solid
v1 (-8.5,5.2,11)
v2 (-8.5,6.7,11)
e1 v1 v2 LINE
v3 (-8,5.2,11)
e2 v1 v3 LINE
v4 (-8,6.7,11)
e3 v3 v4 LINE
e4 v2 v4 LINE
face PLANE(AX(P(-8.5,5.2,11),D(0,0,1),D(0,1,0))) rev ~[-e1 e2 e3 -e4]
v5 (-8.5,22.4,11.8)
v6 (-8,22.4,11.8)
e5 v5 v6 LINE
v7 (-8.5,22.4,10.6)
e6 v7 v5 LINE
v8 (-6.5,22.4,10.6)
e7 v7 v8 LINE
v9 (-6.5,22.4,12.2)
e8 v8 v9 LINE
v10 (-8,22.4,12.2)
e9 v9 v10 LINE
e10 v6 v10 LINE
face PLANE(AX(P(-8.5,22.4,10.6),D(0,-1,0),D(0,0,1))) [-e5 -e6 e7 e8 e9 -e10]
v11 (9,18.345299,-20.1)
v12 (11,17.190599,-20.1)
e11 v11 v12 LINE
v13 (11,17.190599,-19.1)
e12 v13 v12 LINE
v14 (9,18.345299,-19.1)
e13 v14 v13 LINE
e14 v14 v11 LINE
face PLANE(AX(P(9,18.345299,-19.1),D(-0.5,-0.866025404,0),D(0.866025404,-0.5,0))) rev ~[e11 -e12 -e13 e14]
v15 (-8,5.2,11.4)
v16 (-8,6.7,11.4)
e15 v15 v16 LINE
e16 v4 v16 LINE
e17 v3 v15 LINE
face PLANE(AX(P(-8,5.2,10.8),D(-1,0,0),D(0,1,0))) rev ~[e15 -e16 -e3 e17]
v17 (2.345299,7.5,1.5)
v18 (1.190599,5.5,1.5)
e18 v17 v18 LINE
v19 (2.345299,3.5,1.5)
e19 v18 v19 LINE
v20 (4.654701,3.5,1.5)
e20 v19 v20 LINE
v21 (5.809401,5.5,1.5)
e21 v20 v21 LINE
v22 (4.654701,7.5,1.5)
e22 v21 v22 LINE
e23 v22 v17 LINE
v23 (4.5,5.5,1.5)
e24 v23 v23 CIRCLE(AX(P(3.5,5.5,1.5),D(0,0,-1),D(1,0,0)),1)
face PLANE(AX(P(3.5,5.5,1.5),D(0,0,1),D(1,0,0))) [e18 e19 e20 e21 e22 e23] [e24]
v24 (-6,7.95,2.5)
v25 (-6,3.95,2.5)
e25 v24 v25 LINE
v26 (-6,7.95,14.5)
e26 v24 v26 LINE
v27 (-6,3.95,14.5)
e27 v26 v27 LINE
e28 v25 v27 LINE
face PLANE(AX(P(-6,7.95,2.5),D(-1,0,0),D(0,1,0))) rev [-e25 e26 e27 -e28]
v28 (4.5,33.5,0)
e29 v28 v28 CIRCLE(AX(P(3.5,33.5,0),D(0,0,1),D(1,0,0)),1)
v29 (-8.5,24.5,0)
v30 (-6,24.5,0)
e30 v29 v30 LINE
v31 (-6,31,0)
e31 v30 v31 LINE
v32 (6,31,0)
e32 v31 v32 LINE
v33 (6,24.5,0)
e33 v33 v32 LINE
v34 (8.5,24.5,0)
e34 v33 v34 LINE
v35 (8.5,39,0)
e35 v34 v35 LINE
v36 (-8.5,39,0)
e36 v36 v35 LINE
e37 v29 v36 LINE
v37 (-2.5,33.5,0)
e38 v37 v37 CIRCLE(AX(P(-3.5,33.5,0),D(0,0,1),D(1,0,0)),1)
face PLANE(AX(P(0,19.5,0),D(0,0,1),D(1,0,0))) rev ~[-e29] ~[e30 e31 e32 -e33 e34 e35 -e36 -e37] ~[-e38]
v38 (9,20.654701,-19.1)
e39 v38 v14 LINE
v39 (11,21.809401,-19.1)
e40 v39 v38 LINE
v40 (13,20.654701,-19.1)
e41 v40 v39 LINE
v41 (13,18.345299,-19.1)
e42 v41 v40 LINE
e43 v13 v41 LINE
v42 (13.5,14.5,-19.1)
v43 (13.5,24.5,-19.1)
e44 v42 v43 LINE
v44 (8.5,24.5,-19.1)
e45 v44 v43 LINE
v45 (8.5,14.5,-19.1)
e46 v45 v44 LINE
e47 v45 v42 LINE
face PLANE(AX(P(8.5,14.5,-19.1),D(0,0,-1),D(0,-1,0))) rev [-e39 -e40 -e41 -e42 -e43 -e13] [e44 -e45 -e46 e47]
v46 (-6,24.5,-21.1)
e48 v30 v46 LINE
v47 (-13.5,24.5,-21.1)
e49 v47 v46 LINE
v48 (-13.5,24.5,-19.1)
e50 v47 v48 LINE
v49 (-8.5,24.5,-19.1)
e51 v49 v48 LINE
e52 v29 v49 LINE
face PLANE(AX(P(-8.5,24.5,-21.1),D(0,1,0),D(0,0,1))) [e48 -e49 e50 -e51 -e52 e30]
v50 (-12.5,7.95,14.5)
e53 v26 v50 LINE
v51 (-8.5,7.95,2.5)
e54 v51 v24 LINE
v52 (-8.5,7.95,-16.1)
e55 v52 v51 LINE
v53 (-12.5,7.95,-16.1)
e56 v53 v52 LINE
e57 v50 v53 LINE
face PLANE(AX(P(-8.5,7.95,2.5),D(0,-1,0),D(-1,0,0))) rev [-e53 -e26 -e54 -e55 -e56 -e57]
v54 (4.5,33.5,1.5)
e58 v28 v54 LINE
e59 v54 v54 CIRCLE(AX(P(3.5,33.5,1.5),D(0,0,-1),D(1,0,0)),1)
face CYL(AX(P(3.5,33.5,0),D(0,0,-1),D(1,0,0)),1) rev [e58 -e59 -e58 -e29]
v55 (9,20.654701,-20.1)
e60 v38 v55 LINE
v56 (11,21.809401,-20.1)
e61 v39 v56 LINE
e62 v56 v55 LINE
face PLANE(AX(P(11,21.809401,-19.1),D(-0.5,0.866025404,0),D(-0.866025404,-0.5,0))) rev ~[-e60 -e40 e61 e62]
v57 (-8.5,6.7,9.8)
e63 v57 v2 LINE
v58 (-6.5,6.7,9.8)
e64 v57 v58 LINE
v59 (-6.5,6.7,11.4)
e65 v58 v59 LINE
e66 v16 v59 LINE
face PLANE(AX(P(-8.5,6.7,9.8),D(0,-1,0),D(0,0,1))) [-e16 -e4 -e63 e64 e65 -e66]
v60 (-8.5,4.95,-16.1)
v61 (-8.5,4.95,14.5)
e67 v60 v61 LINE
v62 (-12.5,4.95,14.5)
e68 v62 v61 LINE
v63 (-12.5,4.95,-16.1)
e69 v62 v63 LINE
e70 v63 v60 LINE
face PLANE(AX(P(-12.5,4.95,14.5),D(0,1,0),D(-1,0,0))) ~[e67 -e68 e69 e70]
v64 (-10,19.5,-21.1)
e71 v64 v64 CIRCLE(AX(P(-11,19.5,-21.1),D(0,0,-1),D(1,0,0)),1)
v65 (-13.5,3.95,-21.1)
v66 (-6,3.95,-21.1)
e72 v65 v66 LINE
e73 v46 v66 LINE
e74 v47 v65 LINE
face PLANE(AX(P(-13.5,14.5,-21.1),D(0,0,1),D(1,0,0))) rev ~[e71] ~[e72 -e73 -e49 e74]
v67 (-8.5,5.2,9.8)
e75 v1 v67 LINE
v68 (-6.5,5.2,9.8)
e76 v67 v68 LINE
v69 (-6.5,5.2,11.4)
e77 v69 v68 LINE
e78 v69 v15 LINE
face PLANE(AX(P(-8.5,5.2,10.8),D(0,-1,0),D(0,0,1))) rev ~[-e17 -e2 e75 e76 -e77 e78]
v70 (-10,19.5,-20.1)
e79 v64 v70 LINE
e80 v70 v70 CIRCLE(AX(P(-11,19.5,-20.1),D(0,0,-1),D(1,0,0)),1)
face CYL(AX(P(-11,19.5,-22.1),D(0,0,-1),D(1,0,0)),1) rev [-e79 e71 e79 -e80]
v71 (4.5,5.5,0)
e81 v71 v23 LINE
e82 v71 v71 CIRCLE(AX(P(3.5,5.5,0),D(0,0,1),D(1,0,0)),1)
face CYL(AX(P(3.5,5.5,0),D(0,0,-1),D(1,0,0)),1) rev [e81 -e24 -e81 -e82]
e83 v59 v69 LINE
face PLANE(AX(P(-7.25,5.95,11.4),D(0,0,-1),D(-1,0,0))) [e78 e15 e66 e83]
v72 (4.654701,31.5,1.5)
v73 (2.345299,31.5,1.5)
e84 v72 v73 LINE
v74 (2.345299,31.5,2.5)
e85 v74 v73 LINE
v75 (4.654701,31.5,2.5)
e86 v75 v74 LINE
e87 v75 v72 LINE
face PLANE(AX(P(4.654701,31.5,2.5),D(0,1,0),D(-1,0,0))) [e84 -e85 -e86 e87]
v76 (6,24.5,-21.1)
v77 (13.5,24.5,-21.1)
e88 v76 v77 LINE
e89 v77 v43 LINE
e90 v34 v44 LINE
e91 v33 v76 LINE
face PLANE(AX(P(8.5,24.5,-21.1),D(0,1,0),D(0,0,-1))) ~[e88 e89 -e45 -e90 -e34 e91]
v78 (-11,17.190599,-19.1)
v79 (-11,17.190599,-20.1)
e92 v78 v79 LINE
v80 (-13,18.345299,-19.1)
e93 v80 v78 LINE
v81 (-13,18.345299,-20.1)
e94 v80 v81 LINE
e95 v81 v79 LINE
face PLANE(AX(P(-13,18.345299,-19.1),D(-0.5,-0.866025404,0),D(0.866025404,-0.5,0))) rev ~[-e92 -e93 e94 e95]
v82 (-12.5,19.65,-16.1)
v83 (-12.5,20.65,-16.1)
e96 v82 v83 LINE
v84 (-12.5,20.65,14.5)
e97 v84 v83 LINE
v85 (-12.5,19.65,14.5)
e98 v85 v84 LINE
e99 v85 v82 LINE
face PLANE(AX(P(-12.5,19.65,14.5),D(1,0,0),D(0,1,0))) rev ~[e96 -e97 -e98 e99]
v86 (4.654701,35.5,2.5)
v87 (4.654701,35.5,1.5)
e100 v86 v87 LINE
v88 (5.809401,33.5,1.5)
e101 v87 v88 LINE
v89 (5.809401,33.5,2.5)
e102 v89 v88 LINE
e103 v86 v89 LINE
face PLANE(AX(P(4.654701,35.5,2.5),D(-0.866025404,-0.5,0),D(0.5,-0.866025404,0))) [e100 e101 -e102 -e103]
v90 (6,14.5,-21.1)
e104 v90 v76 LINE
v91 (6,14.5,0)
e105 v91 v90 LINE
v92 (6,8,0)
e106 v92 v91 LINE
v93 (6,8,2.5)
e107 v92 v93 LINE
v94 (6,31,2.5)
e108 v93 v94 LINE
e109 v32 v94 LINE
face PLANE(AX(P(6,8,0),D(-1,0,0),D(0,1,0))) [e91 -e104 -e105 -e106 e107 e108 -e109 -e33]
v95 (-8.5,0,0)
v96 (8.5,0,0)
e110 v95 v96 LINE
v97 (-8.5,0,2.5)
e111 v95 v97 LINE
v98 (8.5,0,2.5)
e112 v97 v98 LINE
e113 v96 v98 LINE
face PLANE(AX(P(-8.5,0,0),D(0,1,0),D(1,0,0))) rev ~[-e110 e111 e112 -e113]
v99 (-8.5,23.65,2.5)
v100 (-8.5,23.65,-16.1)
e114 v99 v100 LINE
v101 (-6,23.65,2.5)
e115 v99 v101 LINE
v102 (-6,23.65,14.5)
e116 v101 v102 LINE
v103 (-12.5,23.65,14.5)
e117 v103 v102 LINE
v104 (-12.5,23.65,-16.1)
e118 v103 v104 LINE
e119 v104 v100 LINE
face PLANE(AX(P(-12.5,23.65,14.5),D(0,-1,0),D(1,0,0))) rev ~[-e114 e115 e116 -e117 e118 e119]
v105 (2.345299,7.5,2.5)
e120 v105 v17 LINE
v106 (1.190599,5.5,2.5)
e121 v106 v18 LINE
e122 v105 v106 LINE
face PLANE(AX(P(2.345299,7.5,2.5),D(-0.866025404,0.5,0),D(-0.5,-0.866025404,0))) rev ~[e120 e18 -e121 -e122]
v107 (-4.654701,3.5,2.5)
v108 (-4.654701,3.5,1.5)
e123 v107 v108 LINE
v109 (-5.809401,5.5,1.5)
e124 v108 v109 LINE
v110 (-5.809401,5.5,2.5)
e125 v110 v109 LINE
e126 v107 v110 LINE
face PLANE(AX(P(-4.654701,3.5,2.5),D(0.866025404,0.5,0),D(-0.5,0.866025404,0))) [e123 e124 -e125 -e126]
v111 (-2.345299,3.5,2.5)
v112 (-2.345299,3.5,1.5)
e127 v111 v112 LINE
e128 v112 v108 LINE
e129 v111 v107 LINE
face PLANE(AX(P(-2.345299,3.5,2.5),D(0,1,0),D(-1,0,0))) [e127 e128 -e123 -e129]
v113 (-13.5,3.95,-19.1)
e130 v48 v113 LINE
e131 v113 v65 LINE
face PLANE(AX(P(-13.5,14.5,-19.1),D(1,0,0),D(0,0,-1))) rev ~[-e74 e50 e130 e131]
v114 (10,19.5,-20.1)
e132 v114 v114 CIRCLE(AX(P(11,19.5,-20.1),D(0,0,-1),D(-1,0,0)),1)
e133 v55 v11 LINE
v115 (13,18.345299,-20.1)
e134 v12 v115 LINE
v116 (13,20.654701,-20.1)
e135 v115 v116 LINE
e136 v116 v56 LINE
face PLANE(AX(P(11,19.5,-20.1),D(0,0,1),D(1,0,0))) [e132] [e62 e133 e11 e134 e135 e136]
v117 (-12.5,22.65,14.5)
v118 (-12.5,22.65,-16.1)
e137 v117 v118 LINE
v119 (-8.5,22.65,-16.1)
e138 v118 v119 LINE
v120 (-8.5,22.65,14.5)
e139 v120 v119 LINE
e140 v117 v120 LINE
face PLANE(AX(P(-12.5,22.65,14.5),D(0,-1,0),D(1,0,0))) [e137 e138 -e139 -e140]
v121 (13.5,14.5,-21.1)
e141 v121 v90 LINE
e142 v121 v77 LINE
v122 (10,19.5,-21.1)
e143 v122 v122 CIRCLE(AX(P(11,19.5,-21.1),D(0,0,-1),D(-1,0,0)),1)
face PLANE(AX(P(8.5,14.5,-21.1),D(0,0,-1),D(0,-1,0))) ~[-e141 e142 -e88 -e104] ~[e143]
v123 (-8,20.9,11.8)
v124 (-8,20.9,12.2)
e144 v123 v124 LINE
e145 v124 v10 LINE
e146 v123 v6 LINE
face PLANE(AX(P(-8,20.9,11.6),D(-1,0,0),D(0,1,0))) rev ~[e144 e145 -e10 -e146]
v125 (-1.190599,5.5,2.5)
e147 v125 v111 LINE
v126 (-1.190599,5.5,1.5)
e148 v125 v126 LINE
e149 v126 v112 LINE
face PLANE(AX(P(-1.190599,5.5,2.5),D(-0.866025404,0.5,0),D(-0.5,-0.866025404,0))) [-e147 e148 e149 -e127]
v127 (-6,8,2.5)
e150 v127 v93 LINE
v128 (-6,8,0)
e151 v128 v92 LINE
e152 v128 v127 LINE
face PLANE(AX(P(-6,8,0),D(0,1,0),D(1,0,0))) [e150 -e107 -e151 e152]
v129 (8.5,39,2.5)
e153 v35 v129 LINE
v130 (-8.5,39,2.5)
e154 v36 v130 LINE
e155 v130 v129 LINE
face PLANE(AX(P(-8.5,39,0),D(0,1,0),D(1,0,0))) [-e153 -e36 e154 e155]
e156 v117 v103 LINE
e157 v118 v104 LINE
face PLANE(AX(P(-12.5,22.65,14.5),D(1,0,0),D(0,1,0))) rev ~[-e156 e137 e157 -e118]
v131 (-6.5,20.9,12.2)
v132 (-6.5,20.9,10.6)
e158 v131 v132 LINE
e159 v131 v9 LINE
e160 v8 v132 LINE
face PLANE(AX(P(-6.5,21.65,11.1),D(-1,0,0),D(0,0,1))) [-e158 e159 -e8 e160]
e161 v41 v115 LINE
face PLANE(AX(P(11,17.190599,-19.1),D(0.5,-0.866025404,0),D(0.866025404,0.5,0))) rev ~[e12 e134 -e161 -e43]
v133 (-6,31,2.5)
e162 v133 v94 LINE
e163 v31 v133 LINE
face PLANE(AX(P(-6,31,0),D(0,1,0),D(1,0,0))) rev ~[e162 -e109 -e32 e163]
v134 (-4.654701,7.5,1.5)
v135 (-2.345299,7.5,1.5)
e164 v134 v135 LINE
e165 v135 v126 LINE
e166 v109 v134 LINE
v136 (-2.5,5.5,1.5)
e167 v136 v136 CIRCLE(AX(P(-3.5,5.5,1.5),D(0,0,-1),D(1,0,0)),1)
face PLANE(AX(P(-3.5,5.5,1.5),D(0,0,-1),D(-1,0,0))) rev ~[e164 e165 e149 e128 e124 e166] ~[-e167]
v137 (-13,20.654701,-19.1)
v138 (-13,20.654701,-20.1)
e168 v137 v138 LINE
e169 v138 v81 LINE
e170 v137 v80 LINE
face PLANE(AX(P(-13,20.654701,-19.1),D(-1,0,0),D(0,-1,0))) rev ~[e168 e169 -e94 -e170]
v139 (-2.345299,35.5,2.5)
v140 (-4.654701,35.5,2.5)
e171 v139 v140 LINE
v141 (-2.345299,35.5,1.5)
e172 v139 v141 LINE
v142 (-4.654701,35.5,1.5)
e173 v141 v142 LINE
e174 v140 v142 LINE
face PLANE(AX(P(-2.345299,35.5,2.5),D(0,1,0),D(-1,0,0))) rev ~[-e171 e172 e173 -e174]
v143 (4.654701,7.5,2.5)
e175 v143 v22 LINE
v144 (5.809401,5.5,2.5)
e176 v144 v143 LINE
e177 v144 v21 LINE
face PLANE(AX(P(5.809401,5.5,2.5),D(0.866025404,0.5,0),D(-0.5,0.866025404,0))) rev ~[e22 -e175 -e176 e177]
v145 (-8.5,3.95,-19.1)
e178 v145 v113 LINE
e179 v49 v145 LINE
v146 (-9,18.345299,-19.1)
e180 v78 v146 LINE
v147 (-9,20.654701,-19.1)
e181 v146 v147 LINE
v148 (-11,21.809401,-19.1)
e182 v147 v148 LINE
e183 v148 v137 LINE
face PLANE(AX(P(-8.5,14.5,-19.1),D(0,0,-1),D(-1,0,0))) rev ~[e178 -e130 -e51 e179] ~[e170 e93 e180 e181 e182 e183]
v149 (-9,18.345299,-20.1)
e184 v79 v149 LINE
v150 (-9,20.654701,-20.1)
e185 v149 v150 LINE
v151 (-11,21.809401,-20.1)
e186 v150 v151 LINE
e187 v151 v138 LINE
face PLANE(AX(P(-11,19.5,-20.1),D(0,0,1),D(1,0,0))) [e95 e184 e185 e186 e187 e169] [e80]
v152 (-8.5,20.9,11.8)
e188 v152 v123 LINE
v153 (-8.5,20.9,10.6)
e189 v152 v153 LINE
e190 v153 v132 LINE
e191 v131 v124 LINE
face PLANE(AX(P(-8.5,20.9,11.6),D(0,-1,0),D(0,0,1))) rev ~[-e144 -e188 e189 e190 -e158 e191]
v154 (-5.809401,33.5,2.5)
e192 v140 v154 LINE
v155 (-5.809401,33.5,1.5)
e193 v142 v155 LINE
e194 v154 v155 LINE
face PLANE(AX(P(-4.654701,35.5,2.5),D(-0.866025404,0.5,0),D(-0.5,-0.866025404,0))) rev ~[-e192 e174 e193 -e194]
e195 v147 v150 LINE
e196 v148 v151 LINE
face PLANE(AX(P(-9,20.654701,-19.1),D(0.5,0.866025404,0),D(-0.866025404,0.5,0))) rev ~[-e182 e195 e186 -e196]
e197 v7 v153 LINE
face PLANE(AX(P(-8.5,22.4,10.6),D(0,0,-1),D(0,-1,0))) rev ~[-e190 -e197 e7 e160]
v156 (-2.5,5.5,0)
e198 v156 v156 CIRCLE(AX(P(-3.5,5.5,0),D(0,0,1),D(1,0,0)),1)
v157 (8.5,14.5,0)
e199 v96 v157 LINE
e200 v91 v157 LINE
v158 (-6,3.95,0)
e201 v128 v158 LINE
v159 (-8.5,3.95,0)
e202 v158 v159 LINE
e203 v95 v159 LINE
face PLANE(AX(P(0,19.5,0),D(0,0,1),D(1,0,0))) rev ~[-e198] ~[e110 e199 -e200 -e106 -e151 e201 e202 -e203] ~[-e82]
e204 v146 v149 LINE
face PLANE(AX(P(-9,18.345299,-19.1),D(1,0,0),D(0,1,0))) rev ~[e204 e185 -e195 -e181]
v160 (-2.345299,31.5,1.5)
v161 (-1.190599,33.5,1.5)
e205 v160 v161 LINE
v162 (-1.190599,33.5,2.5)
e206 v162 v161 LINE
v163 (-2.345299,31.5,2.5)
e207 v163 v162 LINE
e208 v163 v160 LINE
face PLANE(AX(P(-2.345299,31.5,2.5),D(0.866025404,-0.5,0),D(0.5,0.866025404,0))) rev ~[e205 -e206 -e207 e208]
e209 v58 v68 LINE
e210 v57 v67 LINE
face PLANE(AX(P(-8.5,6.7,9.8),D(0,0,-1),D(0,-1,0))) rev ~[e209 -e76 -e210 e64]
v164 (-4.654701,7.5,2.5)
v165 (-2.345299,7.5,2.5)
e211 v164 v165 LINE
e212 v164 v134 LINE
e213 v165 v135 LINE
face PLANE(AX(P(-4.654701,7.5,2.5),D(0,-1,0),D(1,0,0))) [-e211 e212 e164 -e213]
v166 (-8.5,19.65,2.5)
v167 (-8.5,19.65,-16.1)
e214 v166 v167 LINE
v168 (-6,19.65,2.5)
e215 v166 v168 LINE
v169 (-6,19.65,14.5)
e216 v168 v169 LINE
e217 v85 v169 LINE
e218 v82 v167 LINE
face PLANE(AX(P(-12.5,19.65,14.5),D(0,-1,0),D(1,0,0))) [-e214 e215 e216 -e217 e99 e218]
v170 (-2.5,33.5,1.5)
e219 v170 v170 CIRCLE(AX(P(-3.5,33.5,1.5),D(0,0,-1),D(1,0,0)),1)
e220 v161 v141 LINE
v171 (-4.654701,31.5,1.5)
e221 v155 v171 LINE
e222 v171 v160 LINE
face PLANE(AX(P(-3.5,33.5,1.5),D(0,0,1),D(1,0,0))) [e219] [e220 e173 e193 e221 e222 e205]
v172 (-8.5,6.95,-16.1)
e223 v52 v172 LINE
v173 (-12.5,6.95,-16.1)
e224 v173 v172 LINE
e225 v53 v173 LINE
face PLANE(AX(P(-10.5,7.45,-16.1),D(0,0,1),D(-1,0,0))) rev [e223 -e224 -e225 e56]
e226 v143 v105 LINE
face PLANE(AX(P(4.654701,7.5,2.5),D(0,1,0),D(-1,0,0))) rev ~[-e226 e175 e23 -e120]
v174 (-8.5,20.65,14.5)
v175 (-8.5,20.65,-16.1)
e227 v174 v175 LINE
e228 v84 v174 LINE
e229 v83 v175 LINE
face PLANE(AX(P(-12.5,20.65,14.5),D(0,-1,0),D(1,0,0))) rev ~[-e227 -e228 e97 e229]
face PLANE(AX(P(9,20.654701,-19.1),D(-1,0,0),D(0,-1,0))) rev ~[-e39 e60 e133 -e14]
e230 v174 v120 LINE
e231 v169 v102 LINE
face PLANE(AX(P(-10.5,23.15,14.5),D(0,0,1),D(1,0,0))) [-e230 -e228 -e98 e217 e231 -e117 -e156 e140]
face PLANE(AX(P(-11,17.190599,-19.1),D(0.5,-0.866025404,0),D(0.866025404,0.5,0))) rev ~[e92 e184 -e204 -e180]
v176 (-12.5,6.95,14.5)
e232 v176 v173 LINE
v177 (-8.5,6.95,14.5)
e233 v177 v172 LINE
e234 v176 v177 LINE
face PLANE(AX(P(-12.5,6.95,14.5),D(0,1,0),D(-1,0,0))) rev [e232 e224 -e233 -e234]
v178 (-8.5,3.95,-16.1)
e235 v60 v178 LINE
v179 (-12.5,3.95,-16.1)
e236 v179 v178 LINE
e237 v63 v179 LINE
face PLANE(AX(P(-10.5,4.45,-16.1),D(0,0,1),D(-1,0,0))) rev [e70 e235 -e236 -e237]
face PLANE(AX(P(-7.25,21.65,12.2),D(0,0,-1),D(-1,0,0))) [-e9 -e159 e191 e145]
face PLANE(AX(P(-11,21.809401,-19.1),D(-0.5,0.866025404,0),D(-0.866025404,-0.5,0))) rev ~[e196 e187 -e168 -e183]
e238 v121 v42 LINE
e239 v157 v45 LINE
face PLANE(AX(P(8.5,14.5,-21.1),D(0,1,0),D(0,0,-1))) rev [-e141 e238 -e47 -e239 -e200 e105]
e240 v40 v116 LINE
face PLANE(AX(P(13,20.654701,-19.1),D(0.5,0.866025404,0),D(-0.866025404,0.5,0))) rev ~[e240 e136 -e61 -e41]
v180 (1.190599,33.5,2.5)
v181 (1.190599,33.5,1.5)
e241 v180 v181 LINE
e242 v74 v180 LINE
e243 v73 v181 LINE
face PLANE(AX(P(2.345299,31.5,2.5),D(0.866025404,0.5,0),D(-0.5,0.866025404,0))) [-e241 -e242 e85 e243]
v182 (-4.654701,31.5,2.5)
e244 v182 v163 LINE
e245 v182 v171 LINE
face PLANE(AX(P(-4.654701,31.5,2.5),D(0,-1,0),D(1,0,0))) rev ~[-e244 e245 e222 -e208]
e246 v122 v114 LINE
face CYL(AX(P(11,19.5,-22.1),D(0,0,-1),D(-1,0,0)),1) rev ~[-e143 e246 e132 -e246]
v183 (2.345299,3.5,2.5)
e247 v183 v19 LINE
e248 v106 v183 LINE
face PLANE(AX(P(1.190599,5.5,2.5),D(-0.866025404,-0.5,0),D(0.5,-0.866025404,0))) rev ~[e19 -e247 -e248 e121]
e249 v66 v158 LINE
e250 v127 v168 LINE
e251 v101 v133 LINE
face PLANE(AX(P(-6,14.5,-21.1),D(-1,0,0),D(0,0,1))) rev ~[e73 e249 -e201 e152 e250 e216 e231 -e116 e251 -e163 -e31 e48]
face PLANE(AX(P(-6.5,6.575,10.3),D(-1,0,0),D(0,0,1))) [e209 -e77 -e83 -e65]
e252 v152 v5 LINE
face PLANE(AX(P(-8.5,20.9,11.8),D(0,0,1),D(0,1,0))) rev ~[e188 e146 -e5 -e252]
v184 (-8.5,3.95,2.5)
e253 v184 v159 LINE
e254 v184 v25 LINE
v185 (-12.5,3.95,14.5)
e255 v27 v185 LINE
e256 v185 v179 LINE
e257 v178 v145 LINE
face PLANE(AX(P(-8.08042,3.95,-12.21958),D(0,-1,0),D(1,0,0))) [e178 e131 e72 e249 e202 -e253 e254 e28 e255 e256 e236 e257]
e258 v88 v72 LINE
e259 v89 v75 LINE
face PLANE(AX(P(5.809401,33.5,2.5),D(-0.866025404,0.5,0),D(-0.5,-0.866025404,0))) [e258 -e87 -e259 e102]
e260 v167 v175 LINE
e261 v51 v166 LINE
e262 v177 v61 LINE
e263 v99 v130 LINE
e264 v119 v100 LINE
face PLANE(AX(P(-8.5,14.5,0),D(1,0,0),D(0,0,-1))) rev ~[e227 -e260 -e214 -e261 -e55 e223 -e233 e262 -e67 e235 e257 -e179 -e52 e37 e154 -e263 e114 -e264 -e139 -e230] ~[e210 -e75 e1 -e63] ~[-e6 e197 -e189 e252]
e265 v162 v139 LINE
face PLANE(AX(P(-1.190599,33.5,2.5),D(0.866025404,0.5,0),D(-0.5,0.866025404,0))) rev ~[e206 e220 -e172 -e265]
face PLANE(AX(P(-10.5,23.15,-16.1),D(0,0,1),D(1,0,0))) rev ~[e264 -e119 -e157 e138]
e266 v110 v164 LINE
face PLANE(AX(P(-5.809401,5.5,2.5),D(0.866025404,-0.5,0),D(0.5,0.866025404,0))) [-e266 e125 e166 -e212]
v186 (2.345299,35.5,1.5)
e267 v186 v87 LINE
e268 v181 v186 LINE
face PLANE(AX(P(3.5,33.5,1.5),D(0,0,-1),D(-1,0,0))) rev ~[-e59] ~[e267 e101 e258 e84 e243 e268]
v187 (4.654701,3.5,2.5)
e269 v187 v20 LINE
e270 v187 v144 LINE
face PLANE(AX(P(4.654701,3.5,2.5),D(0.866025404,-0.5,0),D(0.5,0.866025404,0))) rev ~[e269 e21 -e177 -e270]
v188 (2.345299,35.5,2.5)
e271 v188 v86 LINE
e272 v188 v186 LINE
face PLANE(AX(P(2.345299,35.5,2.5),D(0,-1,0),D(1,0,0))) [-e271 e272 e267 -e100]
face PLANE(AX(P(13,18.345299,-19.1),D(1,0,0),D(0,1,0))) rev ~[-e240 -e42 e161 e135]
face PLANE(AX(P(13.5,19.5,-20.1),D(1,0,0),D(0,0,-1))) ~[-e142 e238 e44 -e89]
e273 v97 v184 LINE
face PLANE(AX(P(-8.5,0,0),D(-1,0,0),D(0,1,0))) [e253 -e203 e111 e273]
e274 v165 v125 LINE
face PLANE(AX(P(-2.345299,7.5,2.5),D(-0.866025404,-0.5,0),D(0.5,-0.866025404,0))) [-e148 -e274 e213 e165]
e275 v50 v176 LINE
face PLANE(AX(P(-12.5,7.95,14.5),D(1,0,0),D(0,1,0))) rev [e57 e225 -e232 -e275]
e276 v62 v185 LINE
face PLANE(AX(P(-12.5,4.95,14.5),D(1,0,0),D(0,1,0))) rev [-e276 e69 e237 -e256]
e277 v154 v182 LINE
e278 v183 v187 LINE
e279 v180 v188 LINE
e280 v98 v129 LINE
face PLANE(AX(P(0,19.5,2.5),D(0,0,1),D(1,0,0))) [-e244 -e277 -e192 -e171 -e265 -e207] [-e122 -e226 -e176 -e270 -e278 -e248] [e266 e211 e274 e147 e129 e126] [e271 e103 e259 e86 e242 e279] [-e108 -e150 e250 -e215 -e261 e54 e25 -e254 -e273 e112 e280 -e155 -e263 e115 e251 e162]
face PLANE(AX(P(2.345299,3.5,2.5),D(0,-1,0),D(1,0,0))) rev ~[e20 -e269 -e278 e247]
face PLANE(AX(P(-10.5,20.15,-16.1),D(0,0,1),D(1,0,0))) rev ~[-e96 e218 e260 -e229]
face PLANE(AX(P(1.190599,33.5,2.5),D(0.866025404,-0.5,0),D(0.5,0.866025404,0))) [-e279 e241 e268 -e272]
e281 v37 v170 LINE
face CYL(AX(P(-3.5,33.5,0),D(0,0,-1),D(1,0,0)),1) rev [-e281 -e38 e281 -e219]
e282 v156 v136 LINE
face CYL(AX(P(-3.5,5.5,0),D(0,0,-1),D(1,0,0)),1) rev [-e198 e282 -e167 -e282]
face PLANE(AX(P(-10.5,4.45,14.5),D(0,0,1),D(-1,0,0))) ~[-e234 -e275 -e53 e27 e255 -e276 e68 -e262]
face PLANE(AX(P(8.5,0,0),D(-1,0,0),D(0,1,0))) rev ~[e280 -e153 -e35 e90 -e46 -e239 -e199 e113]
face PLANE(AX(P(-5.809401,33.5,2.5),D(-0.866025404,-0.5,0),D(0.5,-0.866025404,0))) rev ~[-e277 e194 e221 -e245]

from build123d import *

# Parameters (mm, degrees)
SKETCH1_W                     = 17
SKETCH1_H                     = 39
SKETCH1_R                     = 1
SKETCH1_W_2                   = 12
SKETCH1_H_2                   = 23
SERVOBRACKET_DEPTH            = 2.5
SKETCH1_5_W                   = 2.5
SKETCH1_5_H                   = 10
SUPPORTLEGS_DEPTH             = 21.1
SKETCH2_W                     = 2
SKETCH2_H                     = 10
SUPPORTFOOT_DEPTH             = 5
BASEBOLTHOLE_START            = -3
SKETCH3_R                     = 1
BASEBOLTHOLE_DEPTH            = 25.6
SERVONUTSLOTS_DEPTH           = 1
BASENUTSLOTS_DEPTH            = 1
SKETCH6_W                     = 2.5
SKETCH6_H                     = 4
TUBEHOLDERBASE_DEPTH          = 12
SKETCH7_W                     = 4
SKETCH7_H                     = 1
TUBEHOLDERSTIFFENERRIBS_DEPTH = 30.6
SKETCH8_W                     = 1
SKETCH8_H                     = 1
SKETCH8_H_2                   = 0.25
TUBECLIPENTRANCES_DEPTH       = 2
SKETCH9_W                     = 1.5
SKETCH9_H                     = 1.5
TUBECLIPLOCKSLOT_DEPTH        = 0.6
TUBECLIPLOCKSLOT2_DEPTH       = 0.6
SUPPORTLEGEXTENSION_DEPTH     = 10.55
SKETCH8_4_W                   = 0.2
SKETCH8_4_H                   = 1.5
TUBECLIPLOCKCLEARANCE_DEPTH   = 0.5


with BuildPart() as part:
    # Sketch1 → ServoBracket (new body)
    with BuildSketch(Plane.XY):
        with Locations((0, 19.5)):
            Rectangle(SKETCH1_W, SKETCH1_H)
        with Locations((-3.5, 33.5)):
            Circle(SKETCH1_R, mode=Mode.SUBTRACT)
        with Locations((-3.5, 5.5)):
            Circle(SKETCH1_R, mode=Mode.SUBTRACT)
        with Locations((3.5, 5.5)):
            Circle(SKETCH1_R, mode=Mode.SUBTRACT)
        with Locations((3.5, 33.5)):
            Circle(SKETCH1_R, mode=Mode.SUBTRACT)
        with Locations((0, 19.5)):
            Rectangle(SKETCH1_W_2, SKETCH1_H_2, mode=Mode.SUBTRACT)
    extrude(amount=SERVOBRACKET_DEPTH)

    # Sketch1_5 → SupportLegs (add)
    with BuildSketch(Plane.XY):
        with Locations((-7.25, 19.5)):
            Rectangle(SKETCH1_5_W, SKETCH1_5_H)
        with Locations((7.25, 19.5)):
            Rectangle(SKETCH1_5_W, SKETCH1_5_H)
    extrude(amount=-SUPPORTLEGS_DEPTH)

    # Sketch2 → SupportFoot (add)
    with BuildSketch(Plane.ZY.offset(8.5)):
        with Locations((-20.1, 19.5)):
            Rectangle(SKETCH2_W, SKETCH2_H)
    supportfoot = extrude(amount=SUPPORTFOOT_DEPTH)

    # Sketch3 → BaseBoltHole (cut)
    with BuildSketch(Plane.XY.offset(-19.1).offset(BASEBOLTHOLE_START)):
        with Locations((-11, 19.5)):
            Circle(SKETCH3_R)
    basebolthole = extrude(amount=BASEBOLTHOLE_DEPTH, mode=Mode.SUBTRACT)

    # SupportFoot2: SupportFoot, BaseBoltHole across plane
    add(supportfoot.mirror(Plane(origin=(0, 0, 0), x_dir=(0, 0, 1), z_dir=(1, 0, 0))))
    add(basebolthole.mirror(Plane(origin=(0, 0, 0), x_dir=(0, 0, 1), z_dir=(1, 0, 0))), mode=Mode.SUBTRACT)

    # Sketch4 → ServoNutSlots (cut)
    with BuildSketch(Plane.XY.offset(2.5)):
        Polygon((-4.654700538, 7.5), (-2.345299462, 7.5), (-1.190598923, 5.5), (-2.345299462, 3.5), (-4.654700538, 3.5), (-5.809401077, 5.5), align=None)
        Polygon((-1.190598923, 33.5), (-2.345299462, 35.5), (-4.654700538, 35.5), (-5.809401077, 33.5), (-4.654700538, 31.5), (-2.345299462, 31.5), align=None)
        Polygon((2.345299462, 31.5), (1.190598923, 33.5), (2.345299462, 35.5), (4.654700538, 35.5), (5.809401077, 33.5), (4.654700538, 31.5), align=None)
        Polygon((4.654700538, 7.5), (2.345299462, 7.5), (1.190598923, 5.5), (2.345299462, 3.5), (4.654700538, 3.5), (5.809401077, 5.5), align=None)
    extrude(amount=-SERVONUTSLOTS_DEPTH, mode=Mode.SUBTRACT)

    # Sketch5 → BaseNutSlots (cut)
    with BuildSketch(Plane.XY.offset(-19.1)):
        Polygon((-11, 21.809401077), (-13, 20.654700538), (-13, 18.345299462), (-11, 17.190598923), (-9, 18.345299462), (-9, 20.654700538), align=None)
        Polygon((11, 21.809401077), (9, 20.654700538), (9, 18.345299462), (11, 17.190598923), (13, 18.345299462), (13, 20.654700538), align=None)
    extrude(amount=-BASENUTSLOTS_DEPTH, mode=Mode.SUBTRACT)

    # Sketch6 → TubeHolderBase (add)
    with BuildSketch(Plane.XY.offset(2.5)):
        with Locations((-7.25, 21.65)):
            Rectangle(SKETCH6_W, SKETCH6_H)
    tubeholderbase = extrude(amount=TUBEHOLDERBASE_DEPTH)

    # Sketch7 → TubeHolderStiffenerRibs (add)
    with BuildSketch(Plane.XY.offset(14.5)):
        with Locations((-10.5, 23.15)):
            Rectangle(SKETCH7_W, SKETCH7_H)
        with Locations((-10.5, 20.15)):
            Rectangle(SKETCH7_W, SKETCH7_H)
    tubeholderstiffenerribs = extrude(amount=-TUBEHOLDERSTIFFENERRIBS_DEPTH)

    # TubeHolder2: TubeHolderBase, TubeHolderStiffenerRibs across plane
    add(tubeholderbase.mirror(Plane.ZX.offset(13.8)))
    add(tubeholderstiffenerribs.mirror(Plane.ZX.offset(13.8)))

    # Sketch8 → TubeClipEntrances (cut)
    with BuildSketch(Plane.ZY.offset(8.5)):
        with Locations((11.1, 21.65)):
            Rectangle(SKETCH8_W, SKETCH8_H)
        with Locations((11.1, 22.275)):
            Rectangle(SKETCH8_W, SKETCH8_H_2)
        with Locations((11.1, 21.025)):
            Rectangle(SKETCH8_W, SKETCH8_H_2)
        with Locations((10.3, 6.575)):
            Rectangle(SKETCH8_W, SKETCH8_H_2)
        with Locations((10.3, 5.325)):
            Rectangle(SKETCH8_W, SKETCH8_H_2)
        with Locations((10.3, 5.95)):
            Rectangle(SKETCH8_W, SKETCH8_H)
    extrude(amount=-TUBECLIPENTRANCES_DEPTH, mode=Mode.SUBTRACT)

    # Sketch9 → TubeClipLockSlot (cut)
    with BuildSketch(Plane(origin=(0, 0, 11.6), x_dir=(-1, 0, 0), z_dir=(0, 0, -1))):
        with Locations((7.25, 21.65)):
            Rectangle(SKETCH9_W, SKETCH9_H)
    extrude(amount=-TUBECLIPLOCKSLOT_DEPTH, mode=Mode.SUBTRACT)

    # Sketch10 → TubeClipLockSlot2 (cut)
    with BuildSketch(Plane(origin=(0, 0, 10.8), x_dir=(-1, 0, 0), z_dir=(0, 0, -1))):
        Polygon((6.5, 5.45), (6.5, 5.2), (8, 5.2), (8, 6.7), (6.5, 6.7), align=None)
    extrude(amount=-TUBECLIPLOCKSLOT2_DEPTH, mode=Mode.SUBTRACT)

    # Sketch11 → SupportLegExtension (add)
    with BuildSketch(Plane.XZ.offset(-14.5)):
        Polygon((-6, 0), (-8.5, 0), (-8.5, -19.1), (-13.5, -19.1), (-13.5, -21.1), (-6, -21.1), align=None)
    extrude(amount=SUPPORTLEGEXTENSION_DEPTH)

    # Sketch8_4 → TubeClipLockClearance (cut)
    with BuildSketch(Plane.ZY.offset(8.5)):
        with Locations((10.9, 5.95)):
            Rectangle(SKETCH8_4_W, SKETCH8_4_H)
        with Locations((11.7, 21.65)):
            Rectangle(SKETCH8_4_W, SKETCH8_4_H)
    extrude(amount=-TUBECLIPLOCKCLEARANCE_DEPTH, mode=Mode.SUBTRACT)


solid = part.part
